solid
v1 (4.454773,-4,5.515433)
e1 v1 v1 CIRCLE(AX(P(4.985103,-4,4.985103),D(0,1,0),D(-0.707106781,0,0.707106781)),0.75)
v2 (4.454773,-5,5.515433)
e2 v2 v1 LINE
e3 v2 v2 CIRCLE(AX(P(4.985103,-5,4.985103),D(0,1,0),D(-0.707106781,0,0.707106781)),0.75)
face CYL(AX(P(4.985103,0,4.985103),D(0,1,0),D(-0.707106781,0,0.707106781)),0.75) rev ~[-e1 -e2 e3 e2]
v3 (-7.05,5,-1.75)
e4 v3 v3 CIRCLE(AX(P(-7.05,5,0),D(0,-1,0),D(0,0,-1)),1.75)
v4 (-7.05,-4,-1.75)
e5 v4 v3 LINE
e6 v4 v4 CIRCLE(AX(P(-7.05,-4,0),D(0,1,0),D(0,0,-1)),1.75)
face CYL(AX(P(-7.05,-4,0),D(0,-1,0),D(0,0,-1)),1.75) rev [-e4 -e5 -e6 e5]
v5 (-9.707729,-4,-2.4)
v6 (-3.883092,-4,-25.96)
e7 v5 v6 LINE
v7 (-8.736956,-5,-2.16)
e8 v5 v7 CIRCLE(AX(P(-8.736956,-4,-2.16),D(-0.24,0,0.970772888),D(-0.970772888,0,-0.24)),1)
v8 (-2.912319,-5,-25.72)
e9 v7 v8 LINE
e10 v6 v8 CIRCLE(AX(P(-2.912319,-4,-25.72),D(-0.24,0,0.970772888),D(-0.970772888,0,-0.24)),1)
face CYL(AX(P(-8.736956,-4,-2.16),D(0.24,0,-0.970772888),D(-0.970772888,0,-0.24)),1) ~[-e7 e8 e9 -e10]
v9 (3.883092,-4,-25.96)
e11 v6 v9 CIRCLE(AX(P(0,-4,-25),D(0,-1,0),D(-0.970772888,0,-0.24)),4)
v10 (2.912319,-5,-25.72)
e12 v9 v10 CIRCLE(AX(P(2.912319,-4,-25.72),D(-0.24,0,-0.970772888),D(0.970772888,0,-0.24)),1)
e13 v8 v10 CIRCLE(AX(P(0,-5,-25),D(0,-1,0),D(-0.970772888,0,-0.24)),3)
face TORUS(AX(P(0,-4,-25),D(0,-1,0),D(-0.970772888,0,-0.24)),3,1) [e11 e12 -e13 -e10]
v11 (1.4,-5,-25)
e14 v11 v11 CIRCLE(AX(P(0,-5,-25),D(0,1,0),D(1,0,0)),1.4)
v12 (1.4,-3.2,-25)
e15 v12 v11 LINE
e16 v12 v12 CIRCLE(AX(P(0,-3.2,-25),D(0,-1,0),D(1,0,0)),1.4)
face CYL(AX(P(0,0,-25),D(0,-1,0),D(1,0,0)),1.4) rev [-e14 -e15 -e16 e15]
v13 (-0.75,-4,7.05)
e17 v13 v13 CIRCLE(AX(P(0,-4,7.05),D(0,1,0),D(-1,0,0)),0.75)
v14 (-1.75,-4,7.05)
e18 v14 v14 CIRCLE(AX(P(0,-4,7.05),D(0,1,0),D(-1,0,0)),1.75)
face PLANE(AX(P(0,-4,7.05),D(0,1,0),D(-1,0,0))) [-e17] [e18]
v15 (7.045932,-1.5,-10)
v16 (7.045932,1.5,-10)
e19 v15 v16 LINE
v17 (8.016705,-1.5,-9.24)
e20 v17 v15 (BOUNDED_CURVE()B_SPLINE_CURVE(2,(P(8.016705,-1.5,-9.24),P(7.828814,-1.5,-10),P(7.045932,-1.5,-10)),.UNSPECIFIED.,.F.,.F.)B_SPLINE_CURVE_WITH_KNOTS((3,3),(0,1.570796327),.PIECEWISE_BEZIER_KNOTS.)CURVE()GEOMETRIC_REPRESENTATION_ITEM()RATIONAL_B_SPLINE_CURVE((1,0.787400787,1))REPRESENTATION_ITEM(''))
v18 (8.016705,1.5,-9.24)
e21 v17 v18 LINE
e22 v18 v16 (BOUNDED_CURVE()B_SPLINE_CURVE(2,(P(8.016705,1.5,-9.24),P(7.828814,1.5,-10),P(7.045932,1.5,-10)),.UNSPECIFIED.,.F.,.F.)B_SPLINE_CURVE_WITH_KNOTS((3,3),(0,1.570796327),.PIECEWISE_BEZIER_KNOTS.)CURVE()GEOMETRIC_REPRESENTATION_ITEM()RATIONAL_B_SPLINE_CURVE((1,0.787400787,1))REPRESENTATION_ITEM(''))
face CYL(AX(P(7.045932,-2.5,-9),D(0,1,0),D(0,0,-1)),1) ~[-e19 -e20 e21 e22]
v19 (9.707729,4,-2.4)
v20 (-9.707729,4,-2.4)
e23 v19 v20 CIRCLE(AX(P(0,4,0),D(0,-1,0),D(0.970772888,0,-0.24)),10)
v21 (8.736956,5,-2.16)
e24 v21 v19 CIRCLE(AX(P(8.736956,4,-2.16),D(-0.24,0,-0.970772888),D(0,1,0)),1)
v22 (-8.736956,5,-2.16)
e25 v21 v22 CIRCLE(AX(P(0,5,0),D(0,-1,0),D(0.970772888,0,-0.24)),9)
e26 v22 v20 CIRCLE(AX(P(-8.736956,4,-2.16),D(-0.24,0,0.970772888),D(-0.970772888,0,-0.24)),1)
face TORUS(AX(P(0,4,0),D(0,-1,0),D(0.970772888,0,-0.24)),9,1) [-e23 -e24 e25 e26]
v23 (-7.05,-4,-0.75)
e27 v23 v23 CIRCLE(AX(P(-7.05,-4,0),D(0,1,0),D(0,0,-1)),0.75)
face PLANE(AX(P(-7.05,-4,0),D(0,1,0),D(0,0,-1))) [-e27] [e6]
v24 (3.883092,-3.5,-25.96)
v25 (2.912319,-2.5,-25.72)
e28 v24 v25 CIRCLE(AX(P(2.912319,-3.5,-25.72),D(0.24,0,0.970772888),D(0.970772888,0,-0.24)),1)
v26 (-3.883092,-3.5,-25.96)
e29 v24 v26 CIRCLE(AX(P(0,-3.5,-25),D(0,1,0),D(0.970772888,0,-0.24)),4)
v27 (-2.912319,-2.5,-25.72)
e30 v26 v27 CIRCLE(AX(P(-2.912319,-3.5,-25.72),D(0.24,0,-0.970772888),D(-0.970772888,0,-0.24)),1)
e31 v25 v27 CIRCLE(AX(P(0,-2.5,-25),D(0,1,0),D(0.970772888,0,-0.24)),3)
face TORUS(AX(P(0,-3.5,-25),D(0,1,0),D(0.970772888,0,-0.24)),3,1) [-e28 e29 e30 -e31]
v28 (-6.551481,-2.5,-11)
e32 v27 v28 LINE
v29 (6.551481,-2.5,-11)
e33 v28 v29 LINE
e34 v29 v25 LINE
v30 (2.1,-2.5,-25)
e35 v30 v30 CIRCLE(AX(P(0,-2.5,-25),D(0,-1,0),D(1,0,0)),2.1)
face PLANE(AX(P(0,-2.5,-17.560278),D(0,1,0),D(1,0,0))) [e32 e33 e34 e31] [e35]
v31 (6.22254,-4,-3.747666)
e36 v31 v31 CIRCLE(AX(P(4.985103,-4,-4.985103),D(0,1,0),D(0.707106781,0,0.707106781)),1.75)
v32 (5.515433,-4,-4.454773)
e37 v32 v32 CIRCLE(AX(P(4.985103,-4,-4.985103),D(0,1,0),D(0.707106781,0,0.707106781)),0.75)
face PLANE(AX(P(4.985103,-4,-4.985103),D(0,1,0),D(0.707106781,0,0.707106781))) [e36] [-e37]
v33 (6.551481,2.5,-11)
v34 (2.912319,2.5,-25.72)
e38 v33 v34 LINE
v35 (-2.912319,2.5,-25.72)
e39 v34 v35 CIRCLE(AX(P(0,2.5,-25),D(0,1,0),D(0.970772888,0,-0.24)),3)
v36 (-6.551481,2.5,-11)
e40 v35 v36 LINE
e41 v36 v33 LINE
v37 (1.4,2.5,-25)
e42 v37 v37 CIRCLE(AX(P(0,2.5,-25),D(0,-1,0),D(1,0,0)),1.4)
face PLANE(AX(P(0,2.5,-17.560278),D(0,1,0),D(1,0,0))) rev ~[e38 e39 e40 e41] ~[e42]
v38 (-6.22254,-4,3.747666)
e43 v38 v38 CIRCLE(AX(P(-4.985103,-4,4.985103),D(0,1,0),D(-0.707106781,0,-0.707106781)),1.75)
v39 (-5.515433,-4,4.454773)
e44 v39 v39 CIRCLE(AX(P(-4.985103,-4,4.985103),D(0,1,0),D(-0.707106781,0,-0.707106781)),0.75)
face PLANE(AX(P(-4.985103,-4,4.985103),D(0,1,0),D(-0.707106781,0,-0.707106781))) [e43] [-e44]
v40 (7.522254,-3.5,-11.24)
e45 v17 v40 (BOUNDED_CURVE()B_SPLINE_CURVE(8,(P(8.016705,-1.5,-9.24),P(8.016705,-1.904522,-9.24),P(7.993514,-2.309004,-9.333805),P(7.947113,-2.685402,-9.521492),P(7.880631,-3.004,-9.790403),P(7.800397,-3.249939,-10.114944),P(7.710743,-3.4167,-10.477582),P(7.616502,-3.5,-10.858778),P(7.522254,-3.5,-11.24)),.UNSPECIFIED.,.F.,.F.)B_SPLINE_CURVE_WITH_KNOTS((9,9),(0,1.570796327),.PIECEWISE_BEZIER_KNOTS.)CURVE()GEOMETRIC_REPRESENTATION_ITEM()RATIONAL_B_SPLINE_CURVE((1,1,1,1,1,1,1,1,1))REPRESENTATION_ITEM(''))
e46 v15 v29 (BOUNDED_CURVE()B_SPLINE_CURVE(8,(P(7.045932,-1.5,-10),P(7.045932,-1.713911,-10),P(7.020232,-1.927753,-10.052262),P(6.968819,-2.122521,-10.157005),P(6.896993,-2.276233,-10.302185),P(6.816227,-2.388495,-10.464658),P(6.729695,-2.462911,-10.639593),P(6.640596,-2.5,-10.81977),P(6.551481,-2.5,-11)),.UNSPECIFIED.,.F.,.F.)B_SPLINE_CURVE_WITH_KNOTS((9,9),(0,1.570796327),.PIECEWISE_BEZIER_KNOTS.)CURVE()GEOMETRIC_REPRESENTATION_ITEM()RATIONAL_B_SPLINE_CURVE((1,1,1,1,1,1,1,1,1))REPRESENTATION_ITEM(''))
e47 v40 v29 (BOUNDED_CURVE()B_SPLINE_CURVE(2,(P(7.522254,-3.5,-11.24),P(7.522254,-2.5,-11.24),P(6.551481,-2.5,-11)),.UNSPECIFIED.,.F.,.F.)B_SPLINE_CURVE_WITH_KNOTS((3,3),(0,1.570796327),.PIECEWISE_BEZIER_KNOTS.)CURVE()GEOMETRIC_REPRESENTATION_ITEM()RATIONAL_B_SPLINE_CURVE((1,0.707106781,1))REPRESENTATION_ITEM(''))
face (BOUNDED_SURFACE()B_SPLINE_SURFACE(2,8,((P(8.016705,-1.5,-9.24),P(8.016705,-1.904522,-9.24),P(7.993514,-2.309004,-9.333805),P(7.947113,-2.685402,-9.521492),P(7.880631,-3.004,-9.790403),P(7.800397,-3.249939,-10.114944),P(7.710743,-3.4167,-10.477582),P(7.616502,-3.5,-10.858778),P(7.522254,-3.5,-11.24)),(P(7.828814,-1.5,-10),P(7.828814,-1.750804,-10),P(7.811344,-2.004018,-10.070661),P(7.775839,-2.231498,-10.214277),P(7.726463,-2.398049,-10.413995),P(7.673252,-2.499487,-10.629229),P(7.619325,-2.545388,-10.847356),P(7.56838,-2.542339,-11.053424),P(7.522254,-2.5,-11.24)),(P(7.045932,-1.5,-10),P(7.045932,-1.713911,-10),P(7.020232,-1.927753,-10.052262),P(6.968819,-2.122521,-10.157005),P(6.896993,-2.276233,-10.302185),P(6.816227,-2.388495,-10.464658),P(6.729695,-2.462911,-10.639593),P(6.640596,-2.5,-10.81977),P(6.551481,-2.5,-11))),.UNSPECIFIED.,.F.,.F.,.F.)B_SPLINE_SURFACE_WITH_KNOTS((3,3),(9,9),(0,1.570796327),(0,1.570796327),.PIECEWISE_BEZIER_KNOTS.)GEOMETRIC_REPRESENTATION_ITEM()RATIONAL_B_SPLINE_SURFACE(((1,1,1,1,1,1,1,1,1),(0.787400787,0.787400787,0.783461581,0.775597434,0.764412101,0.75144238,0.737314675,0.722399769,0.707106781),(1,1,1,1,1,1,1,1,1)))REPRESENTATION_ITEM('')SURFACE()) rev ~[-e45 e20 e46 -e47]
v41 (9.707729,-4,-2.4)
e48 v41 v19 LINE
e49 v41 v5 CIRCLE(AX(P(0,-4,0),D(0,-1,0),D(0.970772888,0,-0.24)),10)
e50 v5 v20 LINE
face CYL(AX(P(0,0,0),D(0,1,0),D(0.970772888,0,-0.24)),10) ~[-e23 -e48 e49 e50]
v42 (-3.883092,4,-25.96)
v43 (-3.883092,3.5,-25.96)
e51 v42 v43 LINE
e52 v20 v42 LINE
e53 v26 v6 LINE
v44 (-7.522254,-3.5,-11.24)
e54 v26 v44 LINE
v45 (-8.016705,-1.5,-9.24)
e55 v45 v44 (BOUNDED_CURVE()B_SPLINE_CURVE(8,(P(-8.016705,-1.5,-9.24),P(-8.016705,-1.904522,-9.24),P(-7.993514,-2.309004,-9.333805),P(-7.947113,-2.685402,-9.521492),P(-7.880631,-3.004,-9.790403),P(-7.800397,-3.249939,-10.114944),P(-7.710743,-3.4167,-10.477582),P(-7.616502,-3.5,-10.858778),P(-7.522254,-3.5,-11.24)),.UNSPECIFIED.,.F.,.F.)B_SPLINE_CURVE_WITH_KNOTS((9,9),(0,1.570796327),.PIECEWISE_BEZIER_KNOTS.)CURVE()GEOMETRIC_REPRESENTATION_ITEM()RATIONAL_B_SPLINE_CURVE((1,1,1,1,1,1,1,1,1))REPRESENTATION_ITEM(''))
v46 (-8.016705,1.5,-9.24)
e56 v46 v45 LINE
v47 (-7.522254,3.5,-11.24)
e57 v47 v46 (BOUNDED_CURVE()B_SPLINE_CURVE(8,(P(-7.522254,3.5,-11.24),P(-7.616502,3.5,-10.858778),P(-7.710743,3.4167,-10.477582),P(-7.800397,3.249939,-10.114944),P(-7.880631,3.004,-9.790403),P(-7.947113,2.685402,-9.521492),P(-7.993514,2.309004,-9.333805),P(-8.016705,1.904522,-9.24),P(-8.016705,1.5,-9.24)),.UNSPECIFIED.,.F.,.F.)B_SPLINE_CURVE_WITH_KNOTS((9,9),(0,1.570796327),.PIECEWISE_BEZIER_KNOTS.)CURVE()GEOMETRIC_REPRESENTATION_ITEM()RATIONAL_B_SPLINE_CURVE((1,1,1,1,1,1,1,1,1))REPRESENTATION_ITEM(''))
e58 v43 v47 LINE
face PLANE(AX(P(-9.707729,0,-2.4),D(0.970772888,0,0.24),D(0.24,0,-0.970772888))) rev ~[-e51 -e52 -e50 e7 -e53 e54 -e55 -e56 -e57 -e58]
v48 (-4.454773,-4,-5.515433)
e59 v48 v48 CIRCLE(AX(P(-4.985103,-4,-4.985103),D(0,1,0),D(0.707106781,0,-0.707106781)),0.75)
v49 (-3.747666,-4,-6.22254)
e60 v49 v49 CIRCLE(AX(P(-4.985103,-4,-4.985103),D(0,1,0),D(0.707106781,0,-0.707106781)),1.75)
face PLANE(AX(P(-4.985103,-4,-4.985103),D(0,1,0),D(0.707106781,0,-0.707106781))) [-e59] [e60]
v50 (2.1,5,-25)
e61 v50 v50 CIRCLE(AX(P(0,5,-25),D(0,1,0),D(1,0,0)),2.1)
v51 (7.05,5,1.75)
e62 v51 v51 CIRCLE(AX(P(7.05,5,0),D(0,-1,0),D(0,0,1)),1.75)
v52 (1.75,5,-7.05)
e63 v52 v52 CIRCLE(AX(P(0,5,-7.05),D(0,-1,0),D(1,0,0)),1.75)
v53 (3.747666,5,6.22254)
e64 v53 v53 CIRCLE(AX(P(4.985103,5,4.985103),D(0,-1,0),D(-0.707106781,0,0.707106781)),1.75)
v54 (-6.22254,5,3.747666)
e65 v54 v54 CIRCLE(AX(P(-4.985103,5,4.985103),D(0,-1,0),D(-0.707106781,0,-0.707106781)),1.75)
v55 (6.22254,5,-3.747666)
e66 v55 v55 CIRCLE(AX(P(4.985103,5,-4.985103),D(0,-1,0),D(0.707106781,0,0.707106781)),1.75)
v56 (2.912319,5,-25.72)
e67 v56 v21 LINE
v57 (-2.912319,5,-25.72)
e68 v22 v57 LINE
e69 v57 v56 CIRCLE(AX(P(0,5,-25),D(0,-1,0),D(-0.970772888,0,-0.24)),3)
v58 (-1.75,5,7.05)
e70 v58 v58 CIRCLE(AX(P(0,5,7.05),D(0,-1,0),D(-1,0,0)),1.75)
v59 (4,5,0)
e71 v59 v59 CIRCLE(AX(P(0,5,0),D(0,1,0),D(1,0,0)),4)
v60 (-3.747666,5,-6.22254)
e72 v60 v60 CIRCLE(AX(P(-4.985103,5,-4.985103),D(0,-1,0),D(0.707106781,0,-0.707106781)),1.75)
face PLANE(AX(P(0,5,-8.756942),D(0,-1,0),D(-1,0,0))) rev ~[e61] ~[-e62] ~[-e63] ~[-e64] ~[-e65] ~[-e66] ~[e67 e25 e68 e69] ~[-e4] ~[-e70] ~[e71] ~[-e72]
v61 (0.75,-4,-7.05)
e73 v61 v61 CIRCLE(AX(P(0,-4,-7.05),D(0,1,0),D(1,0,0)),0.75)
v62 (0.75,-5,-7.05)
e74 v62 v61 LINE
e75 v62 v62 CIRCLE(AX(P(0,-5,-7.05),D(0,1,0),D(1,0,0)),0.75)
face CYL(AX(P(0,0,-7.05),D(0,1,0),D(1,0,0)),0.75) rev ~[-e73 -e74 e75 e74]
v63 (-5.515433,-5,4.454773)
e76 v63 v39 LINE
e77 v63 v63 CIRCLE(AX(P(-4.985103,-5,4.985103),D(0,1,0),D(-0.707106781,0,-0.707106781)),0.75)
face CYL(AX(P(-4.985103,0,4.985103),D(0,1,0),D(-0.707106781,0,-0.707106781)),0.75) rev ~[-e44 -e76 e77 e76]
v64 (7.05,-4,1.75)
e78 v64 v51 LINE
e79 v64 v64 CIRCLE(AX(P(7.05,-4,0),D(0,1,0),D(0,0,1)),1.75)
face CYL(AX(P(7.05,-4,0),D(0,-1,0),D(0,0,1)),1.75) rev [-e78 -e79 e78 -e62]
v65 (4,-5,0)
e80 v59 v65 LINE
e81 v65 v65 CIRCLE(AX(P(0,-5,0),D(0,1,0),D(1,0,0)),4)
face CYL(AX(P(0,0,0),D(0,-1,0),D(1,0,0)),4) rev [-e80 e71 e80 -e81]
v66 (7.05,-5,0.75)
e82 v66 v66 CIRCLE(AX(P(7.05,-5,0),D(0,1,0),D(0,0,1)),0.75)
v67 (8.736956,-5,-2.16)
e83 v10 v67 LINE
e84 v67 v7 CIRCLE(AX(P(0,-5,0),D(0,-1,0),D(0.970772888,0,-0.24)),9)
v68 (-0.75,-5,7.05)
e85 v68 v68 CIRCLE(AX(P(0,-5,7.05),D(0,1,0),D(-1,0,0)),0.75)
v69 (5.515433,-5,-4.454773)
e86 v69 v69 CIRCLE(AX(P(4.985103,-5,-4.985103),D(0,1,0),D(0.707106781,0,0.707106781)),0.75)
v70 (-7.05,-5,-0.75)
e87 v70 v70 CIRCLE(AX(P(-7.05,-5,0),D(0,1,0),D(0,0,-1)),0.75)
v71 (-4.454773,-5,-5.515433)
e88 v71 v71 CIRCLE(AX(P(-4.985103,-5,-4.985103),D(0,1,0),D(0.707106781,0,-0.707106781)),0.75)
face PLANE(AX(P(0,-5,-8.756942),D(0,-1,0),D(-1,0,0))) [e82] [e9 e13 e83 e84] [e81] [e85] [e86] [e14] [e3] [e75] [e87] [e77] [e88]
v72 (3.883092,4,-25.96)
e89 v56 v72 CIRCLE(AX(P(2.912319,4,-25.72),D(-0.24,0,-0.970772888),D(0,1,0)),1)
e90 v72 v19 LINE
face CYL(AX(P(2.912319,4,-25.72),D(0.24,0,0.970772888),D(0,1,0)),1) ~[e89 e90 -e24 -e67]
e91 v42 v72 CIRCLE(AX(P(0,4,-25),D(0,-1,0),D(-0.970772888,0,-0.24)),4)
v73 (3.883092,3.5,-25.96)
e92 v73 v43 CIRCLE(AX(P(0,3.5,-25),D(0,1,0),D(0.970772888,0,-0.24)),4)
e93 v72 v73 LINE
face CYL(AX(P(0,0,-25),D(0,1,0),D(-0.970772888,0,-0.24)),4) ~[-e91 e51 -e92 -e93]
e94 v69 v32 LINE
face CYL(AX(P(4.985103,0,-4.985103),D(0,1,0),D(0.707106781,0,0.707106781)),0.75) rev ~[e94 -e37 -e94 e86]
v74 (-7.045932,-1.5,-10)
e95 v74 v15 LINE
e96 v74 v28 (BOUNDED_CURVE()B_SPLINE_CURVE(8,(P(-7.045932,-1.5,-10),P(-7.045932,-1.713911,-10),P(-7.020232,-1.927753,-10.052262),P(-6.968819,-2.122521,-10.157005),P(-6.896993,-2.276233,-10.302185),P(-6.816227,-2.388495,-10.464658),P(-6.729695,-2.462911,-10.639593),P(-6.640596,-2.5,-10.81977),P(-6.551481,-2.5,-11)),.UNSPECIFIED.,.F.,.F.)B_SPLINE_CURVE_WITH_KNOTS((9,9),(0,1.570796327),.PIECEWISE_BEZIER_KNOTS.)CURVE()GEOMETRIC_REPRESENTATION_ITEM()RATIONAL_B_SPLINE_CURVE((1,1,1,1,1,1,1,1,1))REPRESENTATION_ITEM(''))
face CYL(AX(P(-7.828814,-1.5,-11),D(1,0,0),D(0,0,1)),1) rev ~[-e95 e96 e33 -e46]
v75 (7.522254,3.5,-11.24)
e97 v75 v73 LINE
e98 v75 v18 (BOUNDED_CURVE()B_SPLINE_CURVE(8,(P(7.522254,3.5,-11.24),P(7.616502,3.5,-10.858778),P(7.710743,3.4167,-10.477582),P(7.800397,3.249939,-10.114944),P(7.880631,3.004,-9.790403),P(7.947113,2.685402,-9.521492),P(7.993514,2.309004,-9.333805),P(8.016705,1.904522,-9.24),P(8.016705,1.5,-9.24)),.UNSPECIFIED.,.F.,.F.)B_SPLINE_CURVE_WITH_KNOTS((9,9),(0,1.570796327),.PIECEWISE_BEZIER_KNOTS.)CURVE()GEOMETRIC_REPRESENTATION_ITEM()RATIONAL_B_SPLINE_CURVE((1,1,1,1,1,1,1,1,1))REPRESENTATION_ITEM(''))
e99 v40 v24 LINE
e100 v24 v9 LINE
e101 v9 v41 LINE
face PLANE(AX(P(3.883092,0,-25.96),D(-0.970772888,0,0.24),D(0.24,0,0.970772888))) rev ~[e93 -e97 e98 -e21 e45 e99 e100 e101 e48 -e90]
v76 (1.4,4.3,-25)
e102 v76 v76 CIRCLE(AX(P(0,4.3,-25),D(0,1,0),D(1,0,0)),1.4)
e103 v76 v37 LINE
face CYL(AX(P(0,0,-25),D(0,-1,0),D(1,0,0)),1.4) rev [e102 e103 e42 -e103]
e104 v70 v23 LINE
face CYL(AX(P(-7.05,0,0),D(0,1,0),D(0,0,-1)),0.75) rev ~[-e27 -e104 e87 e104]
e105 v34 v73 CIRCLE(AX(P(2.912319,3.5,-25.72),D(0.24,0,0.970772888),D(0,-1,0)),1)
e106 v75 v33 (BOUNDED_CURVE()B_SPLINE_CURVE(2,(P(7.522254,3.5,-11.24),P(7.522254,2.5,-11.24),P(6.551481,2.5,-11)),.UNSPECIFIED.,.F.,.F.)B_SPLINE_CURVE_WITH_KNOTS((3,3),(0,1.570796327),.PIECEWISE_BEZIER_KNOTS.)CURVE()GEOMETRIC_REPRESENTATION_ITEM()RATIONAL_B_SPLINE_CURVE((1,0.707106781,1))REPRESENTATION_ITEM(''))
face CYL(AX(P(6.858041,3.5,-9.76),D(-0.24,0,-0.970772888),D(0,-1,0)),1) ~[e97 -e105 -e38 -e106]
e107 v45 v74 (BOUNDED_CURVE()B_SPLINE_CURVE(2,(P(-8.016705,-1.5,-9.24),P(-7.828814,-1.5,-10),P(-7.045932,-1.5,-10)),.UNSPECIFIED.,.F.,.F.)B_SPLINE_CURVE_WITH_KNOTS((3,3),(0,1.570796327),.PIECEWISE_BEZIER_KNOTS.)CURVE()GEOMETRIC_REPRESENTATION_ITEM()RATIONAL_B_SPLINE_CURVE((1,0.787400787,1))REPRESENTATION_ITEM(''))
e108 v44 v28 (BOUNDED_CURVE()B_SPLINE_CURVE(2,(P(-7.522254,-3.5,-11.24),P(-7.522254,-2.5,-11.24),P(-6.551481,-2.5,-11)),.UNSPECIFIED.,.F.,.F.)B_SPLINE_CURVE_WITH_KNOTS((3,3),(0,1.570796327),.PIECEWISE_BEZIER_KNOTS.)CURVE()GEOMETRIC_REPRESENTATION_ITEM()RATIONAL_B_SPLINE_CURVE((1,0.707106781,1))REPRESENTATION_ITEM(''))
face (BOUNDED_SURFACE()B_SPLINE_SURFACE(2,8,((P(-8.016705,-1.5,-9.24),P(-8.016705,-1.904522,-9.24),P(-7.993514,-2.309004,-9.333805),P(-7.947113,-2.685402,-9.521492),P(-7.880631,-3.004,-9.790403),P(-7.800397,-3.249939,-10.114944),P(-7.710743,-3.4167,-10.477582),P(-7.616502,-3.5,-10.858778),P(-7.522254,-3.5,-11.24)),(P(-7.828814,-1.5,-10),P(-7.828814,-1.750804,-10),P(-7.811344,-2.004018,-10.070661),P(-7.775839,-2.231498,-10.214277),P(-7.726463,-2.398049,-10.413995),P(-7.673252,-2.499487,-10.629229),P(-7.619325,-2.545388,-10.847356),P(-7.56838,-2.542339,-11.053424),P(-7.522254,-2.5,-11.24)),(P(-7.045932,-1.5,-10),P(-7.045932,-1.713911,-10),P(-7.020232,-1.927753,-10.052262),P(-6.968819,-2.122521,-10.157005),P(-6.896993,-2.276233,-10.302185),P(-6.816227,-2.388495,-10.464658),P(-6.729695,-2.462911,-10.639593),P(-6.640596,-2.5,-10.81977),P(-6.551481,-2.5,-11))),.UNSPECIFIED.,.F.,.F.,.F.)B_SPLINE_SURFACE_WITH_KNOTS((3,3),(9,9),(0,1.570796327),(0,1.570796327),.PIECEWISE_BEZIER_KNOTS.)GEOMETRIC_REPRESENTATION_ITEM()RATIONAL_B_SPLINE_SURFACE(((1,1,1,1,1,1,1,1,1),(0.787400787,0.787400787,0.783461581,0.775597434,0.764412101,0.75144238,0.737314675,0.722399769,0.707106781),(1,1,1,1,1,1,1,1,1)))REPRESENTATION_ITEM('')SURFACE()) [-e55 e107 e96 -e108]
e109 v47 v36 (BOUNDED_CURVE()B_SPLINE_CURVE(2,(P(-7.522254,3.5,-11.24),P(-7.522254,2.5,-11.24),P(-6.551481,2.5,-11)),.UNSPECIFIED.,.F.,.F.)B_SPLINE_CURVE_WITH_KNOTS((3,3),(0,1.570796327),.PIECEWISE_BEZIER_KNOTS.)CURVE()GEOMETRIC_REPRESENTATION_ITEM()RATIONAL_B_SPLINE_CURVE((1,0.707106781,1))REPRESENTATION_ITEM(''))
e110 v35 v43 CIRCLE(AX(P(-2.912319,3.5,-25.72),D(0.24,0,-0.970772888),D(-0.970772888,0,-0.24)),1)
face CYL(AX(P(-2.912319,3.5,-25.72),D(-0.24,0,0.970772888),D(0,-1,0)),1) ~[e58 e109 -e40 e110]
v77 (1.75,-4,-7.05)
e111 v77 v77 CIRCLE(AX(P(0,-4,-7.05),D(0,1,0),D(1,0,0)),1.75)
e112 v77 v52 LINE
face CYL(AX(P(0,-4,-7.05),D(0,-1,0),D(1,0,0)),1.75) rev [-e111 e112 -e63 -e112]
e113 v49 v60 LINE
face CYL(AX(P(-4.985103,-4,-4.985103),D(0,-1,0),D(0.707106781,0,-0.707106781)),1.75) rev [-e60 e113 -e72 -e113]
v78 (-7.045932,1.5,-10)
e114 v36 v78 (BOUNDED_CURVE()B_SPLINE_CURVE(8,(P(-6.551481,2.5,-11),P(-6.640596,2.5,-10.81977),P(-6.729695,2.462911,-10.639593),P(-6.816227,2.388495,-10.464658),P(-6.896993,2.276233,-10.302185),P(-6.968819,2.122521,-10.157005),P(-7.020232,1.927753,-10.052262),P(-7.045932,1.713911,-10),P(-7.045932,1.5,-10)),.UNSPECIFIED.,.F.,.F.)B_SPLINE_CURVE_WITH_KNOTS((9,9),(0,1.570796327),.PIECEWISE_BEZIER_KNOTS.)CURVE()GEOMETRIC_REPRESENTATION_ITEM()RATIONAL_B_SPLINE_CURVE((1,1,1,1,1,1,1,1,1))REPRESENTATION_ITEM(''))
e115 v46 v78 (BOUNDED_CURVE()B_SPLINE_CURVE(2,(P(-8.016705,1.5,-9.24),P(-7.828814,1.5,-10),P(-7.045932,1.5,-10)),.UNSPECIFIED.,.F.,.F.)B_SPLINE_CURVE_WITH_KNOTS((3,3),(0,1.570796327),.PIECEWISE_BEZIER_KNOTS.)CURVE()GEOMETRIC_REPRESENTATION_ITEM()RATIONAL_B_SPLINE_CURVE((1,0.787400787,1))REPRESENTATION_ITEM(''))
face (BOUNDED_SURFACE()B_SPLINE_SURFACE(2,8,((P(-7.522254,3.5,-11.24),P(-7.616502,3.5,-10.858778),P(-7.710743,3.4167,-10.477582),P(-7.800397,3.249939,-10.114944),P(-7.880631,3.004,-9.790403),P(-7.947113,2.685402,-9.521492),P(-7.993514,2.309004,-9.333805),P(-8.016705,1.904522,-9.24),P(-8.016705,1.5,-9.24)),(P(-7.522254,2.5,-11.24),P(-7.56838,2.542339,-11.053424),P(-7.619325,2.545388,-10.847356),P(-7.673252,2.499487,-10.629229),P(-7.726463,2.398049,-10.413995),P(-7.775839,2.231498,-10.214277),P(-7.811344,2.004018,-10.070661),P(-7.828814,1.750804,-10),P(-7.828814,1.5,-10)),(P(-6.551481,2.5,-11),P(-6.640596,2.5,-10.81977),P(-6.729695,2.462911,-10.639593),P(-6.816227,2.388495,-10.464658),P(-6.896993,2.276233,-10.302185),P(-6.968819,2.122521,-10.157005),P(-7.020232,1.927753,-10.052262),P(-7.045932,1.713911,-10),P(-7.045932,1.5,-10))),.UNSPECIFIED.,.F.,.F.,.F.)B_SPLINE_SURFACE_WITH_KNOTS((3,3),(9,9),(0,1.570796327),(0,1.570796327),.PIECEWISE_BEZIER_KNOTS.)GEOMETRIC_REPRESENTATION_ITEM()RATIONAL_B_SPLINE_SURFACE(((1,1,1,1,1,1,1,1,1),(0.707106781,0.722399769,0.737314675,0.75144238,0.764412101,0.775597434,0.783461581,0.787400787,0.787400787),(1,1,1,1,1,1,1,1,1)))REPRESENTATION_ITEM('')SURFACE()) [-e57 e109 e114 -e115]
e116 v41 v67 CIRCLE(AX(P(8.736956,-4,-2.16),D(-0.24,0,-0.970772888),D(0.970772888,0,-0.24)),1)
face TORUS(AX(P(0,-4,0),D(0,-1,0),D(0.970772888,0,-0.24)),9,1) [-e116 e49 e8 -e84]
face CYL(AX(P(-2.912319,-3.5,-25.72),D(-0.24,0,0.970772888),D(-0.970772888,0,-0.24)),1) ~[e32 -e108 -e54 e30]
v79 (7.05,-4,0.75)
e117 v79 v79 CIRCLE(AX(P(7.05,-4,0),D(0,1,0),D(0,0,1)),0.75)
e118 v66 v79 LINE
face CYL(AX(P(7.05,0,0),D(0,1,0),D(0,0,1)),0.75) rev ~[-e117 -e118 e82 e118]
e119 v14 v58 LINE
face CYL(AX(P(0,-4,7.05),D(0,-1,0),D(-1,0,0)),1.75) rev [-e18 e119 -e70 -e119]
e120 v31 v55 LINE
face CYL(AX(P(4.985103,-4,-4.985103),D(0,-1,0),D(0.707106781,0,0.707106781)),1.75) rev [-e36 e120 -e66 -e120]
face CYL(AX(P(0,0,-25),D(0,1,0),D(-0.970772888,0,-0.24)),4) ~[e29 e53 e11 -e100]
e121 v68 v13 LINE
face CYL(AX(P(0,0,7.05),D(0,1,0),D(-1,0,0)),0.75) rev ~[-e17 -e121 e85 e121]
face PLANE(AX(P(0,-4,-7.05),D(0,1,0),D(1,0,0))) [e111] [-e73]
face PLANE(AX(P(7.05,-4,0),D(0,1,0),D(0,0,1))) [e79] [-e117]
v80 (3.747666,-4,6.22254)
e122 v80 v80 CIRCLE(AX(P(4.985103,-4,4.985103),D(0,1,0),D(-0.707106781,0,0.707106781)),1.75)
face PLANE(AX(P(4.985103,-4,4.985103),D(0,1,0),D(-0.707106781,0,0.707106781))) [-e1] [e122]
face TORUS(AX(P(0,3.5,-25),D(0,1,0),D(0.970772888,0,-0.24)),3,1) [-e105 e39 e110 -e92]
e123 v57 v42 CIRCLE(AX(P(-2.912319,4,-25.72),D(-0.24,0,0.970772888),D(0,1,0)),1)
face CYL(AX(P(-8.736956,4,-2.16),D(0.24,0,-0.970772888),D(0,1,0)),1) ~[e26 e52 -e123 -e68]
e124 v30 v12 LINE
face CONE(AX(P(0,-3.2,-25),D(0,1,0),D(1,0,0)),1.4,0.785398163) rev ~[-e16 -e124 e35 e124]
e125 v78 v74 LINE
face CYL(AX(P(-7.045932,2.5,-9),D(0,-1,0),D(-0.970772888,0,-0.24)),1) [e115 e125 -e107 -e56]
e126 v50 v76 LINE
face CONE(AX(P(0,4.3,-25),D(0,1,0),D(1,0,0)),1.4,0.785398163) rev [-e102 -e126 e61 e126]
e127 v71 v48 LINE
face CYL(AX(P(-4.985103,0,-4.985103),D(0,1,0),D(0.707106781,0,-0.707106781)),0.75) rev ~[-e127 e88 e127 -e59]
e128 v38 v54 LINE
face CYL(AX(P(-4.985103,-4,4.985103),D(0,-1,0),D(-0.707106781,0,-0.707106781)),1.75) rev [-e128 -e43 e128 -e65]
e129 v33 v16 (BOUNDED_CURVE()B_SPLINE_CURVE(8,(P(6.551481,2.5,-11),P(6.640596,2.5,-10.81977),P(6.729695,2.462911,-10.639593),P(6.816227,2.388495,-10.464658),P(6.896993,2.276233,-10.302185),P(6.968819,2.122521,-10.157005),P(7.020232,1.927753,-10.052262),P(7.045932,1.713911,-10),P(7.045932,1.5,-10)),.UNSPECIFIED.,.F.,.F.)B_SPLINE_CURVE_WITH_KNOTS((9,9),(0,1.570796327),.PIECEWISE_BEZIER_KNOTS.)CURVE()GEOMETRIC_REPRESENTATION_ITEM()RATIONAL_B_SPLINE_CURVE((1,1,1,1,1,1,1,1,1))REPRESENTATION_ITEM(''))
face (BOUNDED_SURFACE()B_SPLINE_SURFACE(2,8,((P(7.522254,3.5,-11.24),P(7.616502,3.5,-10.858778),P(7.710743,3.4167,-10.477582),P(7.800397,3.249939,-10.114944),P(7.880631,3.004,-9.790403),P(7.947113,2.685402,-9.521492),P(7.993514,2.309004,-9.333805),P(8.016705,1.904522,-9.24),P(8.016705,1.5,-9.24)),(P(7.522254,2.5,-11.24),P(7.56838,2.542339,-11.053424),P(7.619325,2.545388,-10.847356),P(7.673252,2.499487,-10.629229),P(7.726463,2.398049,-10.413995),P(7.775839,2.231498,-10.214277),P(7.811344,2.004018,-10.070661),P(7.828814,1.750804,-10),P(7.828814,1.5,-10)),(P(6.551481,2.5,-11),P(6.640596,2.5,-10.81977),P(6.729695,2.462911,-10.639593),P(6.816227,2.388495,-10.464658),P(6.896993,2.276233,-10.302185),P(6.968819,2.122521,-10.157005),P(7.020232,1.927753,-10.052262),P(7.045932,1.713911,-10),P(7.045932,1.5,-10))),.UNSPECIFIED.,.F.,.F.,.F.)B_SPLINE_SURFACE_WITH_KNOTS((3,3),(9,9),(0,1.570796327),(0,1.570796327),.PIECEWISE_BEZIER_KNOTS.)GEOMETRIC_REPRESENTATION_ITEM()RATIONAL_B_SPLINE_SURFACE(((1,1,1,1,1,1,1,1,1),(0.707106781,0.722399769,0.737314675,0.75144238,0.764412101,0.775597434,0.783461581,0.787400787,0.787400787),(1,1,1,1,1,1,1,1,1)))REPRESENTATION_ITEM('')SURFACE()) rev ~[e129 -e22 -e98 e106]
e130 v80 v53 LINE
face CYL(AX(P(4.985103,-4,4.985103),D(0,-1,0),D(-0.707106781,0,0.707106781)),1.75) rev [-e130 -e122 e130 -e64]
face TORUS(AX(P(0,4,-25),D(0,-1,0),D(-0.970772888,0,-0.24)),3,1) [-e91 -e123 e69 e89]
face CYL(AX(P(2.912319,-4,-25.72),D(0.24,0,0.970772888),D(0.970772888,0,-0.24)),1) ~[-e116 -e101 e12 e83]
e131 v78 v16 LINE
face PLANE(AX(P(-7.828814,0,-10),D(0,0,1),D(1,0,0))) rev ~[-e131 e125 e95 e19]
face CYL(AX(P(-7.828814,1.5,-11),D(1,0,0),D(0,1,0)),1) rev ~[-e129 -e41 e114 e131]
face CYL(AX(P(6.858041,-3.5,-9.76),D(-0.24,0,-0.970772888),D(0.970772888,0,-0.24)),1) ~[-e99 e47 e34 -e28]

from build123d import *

# Parameters (mm, degrees)
SKETCH1_R           = 1.4
SKETCH1_R_2         = 4
BOSS_EXTRUDE1_DEPTH = 5
SKETCH2_R           = 0.75
CUT_EXTRUDE1_DEPTH  = 6
CUT_EXTRUDE2_START  = -4
SKETCH4_R           = 1.75
CUT_EXTRUDE2_DEPTH  = 10
CIRPATTERN1_COUNT   = 8
CUT_EXTRUDE3_DEPTH  = 2.5
FILLET1_R           = 1
CHAMFER1_SIZE       = 0.7


with BuildPart() as part:
    # Sketch1 → Boss-Extrude1 (new body, symmetric)
    with BuildSketch(Plane(origin=(0, 0, 0), x_dir=(1, 0, 0), z_dir=(0, 1, 0))):
        with BuildLine():
            Line((-9.70772888, 2.4), (-3.883091552, 25.96))
            ThreePointArc((-3.883091552, 25.96), (0, 29), (3.883091552, 25.96))
            Line((3.883091552, 25.96), (9.70772888, 2.4))
            ThreePointArc((9.70772888, 2.4), (0, -10), (-9.70772888, 2.4))
        make_face()
        with Locations((0, 25)):
            Circle(SKETCH1_R, mode=Mode.SUBTRACT)
        Circle(SKETCH1_R_2, mode=Mode.SUBTRACT)
    extrude(amount=BOSS_EXTRUDE1_DEPTH, both=True)

    # Sketch2 → Cut-Extrude1 (cut, symmetric)
    with BuildSketch(Plane(origin=(0, 0, 0), x_dir=(1, 0, 0), z_dir=(0, 1, 0))):
        with Locations((0, 7.05)):
            Circle(SKETCH2_R)
    cut_extrude1 = extrude(amount=CUT_EXTRUDE1_DEPTH, both=True, mode=Mode.SUBTRACT)

    # Sketch4 → Cut-Extrude2 (cut)
    with BuildSketch(Plane(origin=(0, 0, 0), x_dir=(1, 0, 0), z_dir=(0, 1, 0)).offset(CUT_EXTRUDE2_START)):
        with Locations((0, 7.05)):
            Circle(SKETCH4_R)
    cut_extrude2 = extrude(amount=CUT_EXTRUDE2_DEPTH, mode=Mode.SUBTRACT)

    # CirPattern1: Cut-Extrude1, Cut-Extrude2 ×8 about axis
    cirpattern1_axis = Axis((0, 0, 0), (0, 1, 0))
    for i in range(1, CIRPATTERN1_COUNT):
        add(cut_extrude1.rotate(cirpattern1_axis, i * 360 / CIRPATTERN1_COUNT), mode=Mode.SUBTRACT)
        add(cut_extrude2.rotate(cirpattern1_axis, i * 360 / CIRPATTERN1_COUNT), mode=Mode.SUBTRACT)

    # Sketch5 → Cut-Extrude3 (cut, symmetric)
    with BuildSketch(Plane(origin=(0, 0, 0), x_dir=(1, 0, 0), z_dir=(0, 1, 0))):
        with BuildLine():
            Line((-7.828813613, 10), (7.828813613, 10))
            Line((7.828813613, 10), (3.883091552, 25.96))
            ThreePointArc((3.883091552, 25.96), (0, 29), (-3.883091552, 25.96))
            Line((-3.883091552, 25.96), (-7.828813613, 10))
        make_face()
    extrude(amount=CUT_EXTRUDE3_DEPTH, both=True, mode=Mode.SUBTRACT)

    # Fillet1
    fillet1_edges = [part.edges().sort_by_distance(p)[0] for p in [
        (0, 2.5, -10),
        (5.855952582, 2.5, -17.98),
        (0, 2.5, -29),
        (6.795410216, 5, -14.18),
        (0, 5, -29),
        (-6.795410216, 5, -14.18),
        (0, 5, 10),
        (0, -5, 10),
        (-6.795410216, -5, -14.18),
        (0, -5, -29),
        (6.795410216, -5, -14.18),
        (-5.855952582, -2.5, -17.98),
        (0, -2.5, -10),
        (-7.828813613, 0, -10),
        (5.855952582, -2.5, -17.98),
        (7.828813613, 0, -10),
        (0, -2.5, -29),
        (-5.855952582, 2.5, -17.98),
    ]]
    fillet(fillet1_edges, radius=FILLET1_R)

    # Chamfer1
    chamfer1_edges = [part.edges().sort_by_distance(p)[0] for p in [
        (-1.4, -2.5, -25),
        (-1.4, 5, -25),
    ]]
    chamfer(chamfer1_edges, length=CHAMFER1_SIZE)


solid = part.part
